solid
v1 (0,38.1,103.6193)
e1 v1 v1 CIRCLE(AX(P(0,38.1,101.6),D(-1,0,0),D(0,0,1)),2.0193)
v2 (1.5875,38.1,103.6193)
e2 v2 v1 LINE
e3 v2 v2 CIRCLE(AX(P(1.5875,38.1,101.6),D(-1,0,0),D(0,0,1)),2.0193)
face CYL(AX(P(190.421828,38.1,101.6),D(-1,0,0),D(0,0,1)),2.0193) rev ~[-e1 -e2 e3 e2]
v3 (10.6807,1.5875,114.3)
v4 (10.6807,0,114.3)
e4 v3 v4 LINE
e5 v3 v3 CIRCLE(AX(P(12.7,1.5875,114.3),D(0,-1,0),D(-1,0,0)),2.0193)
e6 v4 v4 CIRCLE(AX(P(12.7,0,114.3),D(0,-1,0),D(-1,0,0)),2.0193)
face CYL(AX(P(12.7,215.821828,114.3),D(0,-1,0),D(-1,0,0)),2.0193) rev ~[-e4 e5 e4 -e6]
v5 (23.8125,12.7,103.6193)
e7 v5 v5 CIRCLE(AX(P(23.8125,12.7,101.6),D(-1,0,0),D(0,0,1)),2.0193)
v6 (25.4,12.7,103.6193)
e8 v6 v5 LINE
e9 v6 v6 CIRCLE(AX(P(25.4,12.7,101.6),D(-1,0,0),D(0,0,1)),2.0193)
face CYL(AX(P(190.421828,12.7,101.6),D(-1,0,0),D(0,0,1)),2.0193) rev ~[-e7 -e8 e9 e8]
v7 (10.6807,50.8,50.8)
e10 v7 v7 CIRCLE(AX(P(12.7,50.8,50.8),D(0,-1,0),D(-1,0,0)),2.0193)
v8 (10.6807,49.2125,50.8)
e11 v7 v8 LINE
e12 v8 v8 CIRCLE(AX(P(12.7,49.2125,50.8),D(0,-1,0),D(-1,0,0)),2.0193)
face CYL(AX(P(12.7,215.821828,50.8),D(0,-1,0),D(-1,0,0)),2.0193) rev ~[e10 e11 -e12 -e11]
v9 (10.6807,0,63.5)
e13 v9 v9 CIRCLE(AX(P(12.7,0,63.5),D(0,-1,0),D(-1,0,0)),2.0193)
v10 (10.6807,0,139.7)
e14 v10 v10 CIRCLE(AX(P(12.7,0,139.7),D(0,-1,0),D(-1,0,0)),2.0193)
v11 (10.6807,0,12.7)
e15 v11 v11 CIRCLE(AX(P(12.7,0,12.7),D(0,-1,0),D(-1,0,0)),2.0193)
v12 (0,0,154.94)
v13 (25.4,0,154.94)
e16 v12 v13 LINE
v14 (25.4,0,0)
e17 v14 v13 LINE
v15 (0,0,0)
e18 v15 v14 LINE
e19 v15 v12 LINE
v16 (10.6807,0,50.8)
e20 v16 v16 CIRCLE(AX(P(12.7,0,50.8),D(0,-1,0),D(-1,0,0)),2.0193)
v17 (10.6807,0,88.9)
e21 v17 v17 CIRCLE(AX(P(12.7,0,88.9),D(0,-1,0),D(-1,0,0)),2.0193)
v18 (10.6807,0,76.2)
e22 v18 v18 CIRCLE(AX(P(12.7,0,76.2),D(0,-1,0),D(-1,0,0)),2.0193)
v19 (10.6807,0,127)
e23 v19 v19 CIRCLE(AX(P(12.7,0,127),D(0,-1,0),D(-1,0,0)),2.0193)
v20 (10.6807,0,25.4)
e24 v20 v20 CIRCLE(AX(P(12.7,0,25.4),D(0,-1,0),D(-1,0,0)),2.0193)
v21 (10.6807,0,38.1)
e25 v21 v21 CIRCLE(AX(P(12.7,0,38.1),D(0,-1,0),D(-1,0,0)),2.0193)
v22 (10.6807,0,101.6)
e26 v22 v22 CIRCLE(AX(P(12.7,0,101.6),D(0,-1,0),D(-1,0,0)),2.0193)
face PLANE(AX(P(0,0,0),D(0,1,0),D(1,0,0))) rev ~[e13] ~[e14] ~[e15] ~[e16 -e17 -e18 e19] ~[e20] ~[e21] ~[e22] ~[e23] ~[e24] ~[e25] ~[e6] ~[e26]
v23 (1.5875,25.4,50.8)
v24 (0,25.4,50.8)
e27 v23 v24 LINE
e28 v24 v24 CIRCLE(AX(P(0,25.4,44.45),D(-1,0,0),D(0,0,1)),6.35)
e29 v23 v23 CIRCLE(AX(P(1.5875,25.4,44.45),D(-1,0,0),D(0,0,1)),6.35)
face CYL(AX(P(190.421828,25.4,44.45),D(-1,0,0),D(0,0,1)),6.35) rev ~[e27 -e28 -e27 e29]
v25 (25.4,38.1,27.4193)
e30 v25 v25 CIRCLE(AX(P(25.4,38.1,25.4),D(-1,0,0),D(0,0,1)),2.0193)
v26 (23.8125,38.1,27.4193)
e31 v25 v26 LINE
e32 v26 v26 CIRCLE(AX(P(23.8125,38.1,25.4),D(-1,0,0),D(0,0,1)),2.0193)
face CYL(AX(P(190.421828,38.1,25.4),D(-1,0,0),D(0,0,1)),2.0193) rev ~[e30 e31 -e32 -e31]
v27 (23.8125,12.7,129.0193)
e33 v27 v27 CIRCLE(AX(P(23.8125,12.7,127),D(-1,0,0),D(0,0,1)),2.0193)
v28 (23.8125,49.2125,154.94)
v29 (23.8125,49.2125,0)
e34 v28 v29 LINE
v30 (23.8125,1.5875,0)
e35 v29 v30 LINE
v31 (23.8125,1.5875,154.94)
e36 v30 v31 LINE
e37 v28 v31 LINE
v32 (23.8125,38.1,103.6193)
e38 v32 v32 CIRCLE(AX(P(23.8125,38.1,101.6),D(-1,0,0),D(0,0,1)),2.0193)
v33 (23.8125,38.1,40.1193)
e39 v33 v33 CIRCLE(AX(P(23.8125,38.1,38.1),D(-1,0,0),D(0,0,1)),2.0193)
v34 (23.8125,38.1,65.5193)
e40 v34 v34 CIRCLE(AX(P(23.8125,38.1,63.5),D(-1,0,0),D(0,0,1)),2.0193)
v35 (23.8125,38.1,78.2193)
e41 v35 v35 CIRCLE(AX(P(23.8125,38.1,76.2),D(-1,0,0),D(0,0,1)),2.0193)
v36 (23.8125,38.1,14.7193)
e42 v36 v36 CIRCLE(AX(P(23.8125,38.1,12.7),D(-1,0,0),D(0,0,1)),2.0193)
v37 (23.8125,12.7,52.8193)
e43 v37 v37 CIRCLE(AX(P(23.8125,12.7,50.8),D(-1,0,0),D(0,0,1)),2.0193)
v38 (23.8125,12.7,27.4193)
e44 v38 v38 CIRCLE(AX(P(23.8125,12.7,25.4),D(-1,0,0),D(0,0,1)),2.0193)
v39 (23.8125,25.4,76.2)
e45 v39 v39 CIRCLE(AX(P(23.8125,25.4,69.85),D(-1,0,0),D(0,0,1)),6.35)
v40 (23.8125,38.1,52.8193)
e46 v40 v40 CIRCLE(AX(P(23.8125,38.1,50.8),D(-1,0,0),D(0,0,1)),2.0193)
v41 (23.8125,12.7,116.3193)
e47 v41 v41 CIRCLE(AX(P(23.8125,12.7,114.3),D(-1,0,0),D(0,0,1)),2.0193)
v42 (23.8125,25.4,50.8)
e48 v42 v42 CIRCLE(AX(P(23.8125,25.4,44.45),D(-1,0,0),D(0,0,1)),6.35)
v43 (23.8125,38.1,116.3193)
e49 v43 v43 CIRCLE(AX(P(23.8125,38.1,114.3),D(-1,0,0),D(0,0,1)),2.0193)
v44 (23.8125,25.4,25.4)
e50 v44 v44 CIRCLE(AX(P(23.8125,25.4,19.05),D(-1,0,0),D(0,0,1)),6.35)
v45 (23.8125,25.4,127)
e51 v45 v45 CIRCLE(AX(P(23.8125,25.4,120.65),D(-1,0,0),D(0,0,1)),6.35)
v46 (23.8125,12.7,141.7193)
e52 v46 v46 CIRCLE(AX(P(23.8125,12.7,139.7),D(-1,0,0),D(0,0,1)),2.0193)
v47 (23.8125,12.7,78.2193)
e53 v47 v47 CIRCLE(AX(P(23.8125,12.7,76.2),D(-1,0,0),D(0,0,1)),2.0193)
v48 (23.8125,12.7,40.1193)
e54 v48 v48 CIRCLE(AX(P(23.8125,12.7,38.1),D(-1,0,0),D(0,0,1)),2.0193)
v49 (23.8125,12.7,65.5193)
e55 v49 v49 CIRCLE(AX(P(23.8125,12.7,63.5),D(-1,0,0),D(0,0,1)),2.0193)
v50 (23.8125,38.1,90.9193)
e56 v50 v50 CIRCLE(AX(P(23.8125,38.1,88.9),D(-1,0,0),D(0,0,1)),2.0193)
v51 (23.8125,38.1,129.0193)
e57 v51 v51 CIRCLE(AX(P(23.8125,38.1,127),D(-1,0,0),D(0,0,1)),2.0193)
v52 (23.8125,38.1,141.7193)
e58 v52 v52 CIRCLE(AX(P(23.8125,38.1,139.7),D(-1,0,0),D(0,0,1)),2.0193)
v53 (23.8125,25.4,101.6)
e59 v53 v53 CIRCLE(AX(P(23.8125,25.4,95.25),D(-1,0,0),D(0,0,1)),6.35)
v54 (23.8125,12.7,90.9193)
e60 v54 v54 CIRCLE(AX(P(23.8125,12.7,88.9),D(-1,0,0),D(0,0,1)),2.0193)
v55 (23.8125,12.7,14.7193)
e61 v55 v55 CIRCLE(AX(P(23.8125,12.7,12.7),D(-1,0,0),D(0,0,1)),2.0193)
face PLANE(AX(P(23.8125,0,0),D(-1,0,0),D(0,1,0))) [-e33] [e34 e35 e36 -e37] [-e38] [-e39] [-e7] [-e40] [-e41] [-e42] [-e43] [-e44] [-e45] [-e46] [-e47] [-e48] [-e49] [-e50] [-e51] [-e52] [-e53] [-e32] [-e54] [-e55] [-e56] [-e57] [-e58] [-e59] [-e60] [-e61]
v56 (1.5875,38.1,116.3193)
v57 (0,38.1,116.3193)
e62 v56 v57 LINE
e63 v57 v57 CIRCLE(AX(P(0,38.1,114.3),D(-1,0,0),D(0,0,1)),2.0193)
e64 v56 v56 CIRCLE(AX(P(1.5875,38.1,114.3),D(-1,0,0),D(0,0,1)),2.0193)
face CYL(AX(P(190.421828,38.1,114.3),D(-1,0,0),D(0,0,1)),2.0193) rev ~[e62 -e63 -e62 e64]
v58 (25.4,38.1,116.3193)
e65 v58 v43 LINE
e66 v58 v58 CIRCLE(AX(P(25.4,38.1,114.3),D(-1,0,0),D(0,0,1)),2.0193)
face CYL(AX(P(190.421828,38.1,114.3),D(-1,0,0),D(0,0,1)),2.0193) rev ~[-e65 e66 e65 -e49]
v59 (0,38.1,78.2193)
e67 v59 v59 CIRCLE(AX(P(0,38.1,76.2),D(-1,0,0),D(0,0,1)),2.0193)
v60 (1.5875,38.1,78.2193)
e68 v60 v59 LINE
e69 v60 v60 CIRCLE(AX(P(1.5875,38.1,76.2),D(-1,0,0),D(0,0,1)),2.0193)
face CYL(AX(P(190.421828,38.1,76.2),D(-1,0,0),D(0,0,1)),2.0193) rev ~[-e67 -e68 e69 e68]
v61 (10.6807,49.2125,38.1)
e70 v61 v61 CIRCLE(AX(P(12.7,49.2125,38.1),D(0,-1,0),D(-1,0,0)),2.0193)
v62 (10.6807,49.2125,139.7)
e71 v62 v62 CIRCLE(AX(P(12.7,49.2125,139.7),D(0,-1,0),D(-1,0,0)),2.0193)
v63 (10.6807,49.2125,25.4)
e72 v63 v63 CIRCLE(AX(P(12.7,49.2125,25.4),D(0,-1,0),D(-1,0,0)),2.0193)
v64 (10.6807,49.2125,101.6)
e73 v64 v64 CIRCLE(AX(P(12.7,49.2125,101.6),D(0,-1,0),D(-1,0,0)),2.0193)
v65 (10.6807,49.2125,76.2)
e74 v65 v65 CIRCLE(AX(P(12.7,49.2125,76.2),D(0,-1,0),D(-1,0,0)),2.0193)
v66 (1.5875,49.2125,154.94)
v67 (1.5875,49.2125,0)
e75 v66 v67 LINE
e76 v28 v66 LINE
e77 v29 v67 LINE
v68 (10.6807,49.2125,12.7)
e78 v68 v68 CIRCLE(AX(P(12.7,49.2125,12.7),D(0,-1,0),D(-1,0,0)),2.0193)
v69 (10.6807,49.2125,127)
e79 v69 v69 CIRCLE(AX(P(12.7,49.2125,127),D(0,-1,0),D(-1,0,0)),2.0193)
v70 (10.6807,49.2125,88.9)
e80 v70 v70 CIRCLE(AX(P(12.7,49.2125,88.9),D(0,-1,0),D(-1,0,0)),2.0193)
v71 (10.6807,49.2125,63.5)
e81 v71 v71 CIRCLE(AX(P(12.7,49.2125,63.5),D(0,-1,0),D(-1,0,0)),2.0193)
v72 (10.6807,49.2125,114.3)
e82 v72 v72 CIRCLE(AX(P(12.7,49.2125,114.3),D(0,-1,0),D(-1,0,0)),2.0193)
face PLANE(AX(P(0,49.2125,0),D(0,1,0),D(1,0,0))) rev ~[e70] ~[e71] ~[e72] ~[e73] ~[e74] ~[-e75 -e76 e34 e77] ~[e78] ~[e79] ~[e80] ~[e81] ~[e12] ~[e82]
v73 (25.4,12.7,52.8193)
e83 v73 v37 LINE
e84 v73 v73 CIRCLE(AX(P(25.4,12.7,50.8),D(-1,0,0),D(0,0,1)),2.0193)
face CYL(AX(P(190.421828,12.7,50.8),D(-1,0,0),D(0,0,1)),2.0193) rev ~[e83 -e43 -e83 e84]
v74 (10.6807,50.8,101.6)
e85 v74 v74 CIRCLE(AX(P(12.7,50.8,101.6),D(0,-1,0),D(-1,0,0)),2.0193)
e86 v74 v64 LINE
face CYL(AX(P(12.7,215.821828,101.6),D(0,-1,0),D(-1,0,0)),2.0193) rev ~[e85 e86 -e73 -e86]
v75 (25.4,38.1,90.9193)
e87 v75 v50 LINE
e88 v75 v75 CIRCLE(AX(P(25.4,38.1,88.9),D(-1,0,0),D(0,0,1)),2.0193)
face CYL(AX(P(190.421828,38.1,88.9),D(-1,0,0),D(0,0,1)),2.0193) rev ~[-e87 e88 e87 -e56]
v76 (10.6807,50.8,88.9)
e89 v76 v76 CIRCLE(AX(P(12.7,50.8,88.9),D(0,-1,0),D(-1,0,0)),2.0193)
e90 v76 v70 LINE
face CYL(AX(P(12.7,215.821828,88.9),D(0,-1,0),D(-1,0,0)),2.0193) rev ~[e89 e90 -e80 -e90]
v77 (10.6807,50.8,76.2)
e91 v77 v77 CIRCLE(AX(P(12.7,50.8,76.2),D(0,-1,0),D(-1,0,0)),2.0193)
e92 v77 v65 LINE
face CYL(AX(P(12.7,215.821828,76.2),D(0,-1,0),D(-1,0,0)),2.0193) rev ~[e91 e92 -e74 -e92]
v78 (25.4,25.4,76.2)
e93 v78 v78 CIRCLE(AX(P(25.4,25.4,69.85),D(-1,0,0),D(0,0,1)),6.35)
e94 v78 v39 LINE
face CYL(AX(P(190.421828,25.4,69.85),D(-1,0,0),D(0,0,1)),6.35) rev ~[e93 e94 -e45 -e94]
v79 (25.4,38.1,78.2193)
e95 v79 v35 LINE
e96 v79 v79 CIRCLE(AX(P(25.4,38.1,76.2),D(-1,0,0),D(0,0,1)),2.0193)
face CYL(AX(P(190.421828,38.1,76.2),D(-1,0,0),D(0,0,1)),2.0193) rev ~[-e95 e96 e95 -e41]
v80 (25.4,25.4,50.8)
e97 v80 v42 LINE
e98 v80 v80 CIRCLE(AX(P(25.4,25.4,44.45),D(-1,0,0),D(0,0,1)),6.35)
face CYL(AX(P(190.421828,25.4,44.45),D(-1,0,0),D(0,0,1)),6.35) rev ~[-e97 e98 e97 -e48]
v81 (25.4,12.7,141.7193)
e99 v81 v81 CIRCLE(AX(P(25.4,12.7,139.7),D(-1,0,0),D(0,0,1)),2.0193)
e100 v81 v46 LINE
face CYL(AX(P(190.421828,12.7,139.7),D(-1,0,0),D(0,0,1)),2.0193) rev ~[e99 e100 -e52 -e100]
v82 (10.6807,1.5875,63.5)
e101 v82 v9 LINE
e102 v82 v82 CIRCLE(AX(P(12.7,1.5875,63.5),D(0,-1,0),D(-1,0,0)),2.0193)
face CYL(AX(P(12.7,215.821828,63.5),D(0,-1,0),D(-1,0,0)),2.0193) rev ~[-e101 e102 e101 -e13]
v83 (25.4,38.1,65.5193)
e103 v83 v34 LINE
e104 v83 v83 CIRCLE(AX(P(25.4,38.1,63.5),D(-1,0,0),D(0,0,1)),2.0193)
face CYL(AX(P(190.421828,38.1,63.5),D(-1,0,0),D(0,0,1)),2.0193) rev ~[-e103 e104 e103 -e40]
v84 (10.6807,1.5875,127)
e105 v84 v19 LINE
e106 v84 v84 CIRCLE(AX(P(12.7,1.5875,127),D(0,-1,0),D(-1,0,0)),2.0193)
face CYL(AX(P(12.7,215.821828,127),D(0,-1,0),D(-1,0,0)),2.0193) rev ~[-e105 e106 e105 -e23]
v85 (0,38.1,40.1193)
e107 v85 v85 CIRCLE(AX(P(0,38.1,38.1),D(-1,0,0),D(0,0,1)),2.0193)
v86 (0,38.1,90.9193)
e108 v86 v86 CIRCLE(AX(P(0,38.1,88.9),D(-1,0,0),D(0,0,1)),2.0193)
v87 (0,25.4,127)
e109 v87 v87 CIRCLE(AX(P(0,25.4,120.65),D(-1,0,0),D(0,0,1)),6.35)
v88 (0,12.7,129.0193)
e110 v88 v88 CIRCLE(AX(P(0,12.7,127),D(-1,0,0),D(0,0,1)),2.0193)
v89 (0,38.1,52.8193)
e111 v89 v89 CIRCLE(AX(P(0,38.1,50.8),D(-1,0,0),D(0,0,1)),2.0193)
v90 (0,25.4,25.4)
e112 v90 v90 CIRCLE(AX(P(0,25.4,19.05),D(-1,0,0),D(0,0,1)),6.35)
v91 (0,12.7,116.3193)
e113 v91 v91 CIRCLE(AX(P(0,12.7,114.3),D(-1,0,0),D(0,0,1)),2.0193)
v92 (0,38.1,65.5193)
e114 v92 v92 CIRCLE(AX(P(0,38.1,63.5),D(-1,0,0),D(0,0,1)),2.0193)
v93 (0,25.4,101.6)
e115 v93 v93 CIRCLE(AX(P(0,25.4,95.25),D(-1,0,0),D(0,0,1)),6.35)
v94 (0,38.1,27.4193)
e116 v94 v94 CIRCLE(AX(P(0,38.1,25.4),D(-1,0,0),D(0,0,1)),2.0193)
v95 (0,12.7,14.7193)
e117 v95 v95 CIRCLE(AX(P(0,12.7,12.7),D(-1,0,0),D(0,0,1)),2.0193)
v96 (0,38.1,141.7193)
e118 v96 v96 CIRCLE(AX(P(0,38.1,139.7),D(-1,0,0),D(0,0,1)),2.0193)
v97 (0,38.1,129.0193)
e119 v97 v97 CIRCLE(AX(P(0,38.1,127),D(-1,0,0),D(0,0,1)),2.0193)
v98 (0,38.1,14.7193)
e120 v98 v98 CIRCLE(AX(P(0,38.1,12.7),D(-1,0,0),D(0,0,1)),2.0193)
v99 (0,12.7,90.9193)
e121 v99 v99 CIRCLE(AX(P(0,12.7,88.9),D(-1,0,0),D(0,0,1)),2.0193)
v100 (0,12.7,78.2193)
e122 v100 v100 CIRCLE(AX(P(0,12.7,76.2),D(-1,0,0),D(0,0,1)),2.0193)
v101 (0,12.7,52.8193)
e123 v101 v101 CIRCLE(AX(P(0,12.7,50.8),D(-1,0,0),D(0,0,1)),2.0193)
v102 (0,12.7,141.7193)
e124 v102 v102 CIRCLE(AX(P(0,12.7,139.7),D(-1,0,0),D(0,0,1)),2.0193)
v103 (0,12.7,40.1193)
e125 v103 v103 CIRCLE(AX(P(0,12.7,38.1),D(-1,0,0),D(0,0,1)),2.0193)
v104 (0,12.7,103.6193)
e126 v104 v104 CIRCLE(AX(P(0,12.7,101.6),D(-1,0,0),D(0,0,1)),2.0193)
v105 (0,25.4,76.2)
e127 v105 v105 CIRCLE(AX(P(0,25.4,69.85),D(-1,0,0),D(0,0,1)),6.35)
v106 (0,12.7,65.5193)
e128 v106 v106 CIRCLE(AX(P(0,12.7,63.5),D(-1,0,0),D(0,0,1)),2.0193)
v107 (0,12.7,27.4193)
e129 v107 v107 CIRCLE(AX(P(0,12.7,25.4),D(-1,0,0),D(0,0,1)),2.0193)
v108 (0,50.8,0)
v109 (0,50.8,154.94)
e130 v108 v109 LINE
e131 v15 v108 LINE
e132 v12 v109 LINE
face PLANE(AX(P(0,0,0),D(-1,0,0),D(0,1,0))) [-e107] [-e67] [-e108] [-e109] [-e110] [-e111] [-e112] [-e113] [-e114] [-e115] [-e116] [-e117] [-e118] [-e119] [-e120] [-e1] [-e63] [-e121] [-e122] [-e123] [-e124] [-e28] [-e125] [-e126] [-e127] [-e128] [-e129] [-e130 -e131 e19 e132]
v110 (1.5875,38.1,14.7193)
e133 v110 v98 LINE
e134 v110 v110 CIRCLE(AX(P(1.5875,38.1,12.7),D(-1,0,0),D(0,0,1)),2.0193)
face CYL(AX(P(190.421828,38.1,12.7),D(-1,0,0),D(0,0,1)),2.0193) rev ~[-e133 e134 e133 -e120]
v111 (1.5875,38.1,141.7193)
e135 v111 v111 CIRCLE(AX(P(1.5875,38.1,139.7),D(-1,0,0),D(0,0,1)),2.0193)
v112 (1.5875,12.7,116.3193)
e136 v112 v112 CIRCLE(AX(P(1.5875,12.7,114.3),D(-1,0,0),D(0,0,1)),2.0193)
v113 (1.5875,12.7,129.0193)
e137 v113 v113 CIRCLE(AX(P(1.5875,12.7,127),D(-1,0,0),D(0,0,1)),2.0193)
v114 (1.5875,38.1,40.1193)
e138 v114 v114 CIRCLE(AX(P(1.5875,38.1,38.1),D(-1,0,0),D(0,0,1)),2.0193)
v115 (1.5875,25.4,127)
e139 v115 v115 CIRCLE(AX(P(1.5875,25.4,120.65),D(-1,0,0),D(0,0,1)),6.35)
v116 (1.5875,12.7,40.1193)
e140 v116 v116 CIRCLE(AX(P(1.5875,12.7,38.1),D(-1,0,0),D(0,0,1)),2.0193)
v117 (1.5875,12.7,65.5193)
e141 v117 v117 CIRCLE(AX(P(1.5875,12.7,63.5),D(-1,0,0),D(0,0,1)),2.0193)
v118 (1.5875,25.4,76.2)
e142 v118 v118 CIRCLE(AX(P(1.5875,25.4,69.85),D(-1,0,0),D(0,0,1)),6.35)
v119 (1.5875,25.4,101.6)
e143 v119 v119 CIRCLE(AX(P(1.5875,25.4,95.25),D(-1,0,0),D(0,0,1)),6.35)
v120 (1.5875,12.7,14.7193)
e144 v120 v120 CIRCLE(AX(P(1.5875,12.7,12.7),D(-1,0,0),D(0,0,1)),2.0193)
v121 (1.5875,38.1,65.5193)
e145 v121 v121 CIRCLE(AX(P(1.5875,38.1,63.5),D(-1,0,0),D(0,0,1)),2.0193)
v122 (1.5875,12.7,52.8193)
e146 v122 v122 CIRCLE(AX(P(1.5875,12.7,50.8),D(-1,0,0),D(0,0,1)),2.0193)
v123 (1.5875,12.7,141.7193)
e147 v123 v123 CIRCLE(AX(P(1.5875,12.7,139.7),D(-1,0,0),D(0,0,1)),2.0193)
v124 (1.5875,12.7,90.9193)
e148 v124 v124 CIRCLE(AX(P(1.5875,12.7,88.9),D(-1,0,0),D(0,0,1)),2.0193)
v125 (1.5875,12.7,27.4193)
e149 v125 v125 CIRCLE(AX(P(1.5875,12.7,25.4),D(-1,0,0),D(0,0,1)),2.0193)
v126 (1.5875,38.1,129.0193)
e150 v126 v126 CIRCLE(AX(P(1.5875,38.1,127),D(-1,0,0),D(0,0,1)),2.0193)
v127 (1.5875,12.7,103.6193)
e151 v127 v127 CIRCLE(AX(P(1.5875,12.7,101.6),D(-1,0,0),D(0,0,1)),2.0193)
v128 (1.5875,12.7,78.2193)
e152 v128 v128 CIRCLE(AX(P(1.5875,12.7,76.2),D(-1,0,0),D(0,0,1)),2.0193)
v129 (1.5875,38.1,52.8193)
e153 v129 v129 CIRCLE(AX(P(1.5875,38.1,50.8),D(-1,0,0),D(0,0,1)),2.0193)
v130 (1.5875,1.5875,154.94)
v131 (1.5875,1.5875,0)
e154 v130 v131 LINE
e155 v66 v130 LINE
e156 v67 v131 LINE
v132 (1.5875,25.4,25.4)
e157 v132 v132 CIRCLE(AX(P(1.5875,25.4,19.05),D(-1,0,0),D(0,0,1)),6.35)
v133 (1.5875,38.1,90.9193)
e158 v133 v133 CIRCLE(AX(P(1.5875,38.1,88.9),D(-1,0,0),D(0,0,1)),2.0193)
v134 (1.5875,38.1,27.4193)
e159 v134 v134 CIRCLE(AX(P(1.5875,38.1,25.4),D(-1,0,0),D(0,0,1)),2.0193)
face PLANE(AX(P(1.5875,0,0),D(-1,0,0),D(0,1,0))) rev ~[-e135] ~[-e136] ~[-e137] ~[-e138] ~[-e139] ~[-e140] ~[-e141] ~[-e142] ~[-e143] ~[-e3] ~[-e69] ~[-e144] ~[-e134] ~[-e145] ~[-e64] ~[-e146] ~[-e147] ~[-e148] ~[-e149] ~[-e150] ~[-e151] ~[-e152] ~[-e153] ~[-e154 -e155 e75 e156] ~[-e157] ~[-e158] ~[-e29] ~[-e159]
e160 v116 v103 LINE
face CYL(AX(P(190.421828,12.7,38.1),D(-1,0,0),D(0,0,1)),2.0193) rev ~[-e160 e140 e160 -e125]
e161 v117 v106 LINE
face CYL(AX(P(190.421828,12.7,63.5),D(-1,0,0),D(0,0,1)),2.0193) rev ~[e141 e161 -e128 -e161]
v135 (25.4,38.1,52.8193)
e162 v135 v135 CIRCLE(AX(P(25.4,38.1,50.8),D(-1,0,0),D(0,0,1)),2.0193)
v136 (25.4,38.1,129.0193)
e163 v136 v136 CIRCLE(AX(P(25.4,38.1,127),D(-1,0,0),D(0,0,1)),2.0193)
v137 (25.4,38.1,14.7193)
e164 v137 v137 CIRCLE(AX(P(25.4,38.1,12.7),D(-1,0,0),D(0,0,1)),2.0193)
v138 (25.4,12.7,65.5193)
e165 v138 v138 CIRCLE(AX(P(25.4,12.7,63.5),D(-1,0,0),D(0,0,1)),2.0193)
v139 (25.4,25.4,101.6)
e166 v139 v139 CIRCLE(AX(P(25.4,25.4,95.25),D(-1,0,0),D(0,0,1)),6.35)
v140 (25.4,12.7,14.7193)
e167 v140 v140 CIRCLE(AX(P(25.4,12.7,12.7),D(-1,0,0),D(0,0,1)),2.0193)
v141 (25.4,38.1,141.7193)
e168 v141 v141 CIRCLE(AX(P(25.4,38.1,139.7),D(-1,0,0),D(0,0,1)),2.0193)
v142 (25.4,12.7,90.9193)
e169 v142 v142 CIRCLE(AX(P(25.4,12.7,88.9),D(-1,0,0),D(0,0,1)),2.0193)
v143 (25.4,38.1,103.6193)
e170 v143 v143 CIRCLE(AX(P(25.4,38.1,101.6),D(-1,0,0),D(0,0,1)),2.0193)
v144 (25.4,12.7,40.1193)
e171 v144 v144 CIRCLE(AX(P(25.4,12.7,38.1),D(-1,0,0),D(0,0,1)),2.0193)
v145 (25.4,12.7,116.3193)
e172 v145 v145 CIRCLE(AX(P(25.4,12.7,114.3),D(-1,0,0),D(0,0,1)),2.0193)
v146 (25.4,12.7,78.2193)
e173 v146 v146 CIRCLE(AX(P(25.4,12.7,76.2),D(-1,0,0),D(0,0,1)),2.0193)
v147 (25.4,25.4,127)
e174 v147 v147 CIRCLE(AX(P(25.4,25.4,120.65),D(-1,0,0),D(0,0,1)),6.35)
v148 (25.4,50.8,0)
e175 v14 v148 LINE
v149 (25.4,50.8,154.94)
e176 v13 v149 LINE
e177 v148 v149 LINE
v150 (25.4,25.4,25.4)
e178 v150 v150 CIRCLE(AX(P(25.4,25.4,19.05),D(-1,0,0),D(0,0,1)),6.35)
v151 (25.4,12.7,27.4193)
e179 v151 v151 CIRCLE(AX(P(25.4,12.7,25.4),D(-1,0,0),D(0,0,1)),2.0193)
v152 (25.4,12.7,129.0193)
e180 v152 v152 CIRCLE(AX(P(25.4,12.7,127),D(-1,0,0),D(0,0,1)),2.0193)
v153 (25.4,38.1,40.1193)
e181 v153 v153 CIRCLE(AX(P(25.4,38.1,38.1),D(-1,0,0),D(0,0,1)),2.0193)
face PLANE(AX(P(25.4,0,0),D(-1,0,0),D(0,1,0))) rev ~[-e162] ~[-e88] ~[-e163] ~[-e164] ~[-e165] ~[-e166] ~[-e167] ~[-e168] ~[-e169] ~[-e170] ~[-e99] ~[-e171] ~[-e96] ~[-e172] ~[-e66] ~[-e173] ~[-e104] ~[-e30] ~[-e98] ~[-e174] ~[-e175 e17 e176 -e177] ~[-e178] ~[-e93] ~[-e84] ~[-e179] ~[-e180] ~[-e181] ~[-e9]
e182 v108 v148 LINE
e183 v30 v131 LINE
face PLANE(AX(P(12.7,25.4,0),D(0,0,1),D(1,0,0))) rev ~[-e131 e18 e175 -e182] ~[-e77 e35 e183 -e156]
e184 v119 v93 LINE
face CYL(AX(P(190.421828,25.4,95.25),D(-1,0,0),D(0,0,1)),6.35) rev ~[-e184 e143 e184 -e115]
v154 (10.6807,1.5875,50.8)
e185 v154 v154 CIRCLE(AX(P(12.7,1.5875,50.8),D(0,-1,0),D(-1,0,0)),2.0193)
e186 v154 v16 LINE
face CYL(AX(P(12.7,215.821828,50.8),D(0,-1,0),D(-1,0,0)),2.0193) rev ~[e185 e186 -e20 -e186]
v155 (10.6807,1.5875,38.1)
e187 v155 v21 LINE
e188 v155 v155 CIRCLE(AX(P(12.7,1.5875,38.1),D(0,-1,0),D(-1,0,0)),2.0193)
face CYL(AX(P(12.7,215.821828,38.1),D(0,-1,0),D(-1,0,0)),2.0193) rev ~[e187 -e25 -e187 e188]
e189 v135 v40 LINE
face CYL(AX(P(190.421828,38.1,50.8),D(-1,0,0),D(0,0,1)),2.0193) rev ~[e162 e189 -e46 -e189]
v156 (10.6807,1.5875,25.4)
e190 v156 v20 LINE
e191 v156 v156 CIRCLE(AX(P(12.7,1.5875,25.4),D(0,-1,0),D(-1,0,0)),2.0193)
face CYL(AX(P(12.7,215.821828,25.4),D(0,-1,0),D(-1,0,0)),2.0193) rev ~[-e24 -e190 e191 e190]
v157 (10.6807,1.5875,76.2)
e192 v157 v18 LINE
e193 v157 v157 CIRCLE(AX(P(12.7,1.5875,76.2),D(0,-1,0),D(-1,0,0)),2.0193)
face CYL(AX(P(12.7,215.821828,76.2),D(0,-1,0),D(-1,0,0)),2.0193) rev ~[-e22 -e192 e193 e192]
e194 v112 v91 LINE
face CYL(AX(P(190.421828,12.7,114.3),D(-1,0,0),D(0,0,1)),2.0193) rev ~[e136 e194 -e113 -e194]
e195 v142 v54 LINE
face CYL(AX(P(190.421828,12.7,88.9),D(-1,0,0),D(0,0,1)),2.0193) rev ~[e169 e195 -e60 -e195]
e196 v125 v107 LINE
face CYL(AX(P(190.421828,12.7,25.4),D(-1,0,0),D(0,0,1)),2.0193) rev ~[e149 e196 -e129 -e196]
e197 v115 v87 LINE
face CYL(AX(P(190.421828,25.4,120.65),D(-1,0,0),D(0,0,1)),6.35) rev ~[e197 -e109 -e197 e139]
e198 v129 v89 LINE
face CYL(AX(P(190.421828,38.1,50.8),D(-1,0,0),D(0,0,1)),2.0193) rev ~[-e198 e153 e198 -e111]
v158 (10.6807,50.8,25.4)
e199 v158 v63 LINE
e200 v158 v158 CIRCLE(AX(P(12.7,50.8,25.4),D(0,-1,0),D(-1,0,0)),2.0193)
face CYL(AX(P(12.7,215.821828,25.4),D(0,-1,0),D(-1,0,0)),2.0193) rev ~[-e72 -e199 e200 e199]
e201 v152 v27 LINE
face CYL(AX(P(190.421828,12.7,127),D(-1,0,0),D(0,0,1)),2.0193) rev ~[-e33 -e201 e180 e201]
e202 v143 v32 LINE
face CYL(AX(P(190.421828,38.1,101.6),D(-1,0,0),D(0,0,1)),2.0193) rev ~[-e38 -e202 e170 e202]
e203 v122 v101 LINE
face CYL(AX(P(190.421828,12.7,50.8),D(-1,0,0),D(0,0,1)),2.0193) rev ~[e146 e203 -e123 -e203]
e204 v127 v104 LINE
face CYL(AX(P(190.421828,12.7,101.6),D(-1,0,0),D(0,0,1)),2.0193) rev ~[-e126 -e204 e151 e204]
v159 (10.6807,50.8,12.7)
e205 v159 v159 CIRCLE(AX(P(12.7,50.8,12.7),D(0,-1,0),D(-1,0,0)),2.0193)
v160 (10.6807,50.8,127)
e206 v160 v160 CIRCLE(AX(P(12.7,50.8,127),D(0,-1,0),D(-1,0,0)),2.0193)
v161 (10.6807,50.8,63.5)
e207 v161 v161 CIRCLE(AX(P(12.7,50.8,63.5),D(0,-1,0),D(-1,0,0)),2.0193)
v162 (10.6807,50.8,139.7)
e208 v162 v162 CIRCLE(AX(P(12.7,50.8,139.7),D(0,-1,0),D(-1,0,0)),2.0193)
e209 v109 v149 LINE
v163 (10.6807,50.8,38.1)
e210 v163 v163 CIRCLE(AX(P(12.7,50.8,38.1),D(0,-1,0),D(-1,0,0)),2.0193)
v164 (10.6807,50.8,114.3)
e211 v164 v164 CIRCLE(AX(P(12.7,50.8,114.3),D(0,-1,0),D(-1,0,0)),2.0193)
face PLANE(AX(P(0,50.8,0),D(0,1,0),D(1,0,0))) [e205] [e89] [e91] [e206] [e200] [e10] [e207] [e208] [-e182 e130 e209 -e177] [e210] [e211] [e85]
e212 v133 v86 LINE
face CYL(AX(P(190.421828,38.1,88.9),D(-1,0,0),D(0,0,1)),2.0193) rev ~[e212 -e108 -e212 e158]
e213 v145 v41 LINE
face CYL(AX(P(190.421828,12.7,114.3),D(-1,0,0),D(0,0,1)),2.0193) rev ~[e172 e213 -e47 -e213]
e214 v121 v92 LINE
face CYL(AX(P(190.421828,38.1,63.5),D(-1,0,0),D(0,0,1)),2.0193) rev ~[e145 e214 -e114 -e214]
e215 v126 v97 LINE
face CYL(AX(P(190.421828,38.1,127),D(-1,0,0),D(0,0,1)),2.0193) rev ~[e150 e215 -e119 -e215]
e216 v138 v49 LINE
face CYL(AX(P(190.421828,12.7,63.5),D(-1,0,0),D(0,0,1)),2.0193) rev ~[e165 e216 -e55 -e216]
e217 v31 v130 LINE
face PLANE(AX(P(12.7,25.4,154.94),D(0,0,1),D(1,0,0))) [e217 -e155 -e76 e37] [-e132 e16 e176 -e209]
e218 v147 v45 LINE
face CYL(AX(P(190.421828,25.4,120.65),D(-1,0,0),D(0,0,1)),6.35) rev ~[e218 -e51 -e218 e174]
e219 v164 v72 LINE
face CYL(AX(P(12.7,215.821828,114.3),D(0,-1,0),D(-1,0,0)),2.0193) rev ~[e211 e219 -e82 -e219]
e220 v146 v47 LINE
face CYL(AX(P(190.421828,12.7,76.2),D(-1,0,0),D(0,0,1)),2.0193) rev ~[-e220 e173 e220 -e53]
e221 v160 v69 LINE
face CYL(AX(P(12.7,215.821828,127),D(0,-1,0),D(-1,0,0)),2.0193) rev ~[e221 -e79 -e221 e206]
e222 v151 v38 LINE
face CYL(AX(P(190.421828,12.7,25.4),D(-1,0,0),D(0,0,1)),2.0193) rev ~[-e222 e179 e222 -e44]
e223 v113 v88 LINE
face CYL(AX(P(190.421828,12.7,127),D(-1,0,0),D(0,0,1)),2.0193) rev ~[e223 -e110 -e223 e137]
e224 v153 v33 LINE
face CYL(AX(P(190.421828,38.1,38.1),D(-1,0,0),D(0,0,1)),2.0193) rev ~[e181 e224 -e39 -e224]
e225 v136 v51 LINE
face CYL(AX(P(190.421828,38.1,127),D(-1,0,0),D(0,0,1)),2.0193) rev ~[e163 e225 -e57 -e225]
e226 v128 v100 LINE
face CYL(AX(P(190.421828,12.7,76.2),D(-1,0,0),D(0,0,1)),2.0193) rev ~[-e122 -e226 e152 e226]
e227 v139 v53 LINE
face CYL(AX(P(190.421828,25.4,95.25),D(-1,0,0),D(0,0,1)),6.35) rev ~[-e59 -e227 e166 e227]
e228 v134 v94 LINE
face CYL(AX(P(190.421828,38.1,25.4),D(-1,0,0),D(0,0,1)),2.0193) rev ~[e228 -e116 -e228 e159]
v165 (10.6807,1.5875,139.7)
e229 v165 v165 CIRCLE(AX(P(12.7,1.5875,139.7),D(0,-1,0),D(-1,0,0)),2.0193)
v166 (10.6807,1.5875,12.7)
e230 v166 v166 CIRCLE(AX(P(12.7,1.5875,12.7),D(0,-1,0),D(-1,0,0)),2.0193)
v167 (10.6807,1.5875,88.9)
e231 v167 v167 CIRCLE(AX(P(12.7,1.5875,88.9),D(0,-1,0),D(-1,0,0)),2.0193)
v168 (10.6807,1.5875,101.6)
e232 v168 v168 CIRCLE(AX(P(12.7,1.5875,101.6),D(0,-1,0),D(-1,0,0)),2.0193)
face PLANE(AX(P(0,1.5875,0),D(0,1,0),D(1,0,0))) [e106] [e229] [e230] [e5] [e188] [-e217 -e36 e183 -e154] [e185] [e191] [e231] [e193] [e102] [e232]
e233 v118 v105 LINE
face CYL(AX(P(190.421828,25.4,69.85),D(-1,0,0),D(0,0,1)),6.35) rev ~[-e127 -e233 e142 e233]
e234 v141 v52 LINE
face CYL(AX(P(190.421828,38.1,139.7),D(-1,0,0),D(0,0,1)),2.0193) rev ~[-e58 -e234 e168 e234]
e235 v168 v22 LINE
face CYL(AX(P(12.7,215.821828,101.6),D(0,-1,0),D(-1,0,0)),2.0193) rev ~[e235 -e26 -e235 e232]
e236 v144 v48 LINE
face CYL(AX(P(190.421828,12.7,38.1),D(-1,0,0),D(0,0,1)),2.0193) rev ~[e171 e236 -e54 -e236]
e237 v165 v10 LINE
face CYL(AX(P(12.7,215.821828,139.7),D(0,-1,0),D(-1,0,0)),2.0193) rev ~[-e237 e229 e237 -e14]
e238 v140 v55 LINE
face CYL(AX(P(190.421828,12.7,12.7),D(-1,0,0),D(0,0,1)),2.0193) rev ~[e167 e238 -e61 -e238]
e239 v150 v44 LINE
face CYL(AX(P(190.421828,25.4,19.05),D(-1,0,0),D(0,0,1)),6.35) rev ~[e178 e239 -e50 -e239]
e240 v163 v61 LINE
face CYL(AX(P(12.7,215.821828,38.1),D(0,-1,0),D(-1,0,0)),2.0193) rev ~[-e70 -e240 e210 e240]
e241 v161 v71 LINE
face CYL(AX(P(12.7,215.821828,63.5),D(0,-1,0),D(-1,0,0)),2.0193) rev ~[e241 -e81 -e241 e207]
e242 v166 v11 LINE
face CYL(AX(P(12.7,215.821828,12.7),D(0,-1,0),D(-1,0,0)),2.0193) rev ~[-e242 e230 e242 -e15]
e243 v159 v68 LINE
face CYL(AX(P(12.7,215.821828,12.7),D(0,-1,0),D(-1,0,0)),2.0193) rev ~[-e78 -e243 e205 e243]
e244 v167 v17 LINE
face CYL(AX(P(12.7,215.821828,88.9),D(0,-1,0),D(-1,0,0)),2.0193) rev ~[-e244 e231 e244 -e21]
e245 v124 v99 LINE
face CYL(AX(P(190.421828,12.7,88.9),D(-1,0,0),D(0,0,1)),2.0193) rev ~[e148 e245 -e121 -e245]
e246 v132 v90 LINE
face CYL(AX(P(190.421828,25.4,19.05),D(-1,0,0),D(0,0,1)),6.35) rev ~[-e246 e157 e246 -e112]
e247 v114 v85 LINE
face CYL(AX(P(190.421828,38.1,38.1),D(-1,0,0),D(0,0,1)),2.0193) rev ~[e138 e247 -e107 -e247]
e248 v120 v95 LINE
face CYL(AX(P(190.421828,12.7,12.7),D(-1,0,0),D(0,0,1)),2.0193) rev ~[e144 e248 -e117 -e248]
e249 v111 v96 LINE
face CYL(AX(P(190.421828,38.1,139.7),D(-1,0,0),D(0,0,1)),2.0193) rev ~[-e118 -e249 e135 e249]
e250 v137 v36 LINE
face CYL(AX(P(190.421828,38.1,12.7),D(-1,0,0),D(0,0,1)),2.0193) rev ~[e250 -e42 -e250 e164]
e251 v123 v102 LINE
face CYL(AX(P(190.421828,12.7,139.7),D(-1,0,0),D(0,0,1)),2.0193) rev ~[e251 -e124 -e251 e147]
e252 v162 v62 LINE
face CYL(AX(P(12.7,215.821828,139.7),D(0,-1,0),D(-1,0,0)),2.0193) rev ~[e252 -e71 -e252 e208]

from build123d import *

# Parameters (mm, degrees)
SKETCH1_W                   = 25.4
SKETCH1_H                   = 50.8
BOSS_EXTRUDE1_DEPTH         = 154.94
SHELL1_T                    = -1.5875
F_21_0_159_DIAMETER_HOLE1_D = 4.0386
LPATTERN1_COUNT             = 11
LPATTERN1_PITCH             = 12.7
LPATTERN1_COUNT_DIR2        = 2
LPATTERN1_PITCH_DIR2        = 25.4
F_1_2_0_5_DIAMETER_HOLE1_D  = 12.7
LPATTERN2_COUNT             = 5
LPATTERN2_PITCH             = 25.4
F_21_0_159_DIAMETER_HOLE2_D = 4.0386
LPATTERN3_COUNT             = 11
LPATTERN3_PITCH             = 12.7


with BuildPart() as part:
    # Sketch1 → Boss-Extrude1 (new body)
    with BuildSketch(Plane.XY):
        with Locations((12.7, 25.4)):
            Rectangle(SKETCH1_W, SKETCH1_H)
    extrude(amount=BOSS_EXTRUDE1_DEPTH)

    # Shell1
    shell1_openings = [part.faces().sort_by_distance(p)[0] for p in [
        (12.7, 25.4, 154.94),
        (12.7, 25.4, 0),
    ]]
    offset(amount=SHELL1_T, openings=shell1_openings, kind=Kind.INTERSECTION)

    # #21 (0.159) Diameter Hole1 (through all)
    with Locations(Plane(origin=(25.4, 0, 0), x_dir=(0, 0, -1), z_dir=(1, 0, 0))):
        with Locations((-12.7, 38.1)):
            f_21_0_159_diameter_hole1 = Hole(F_21_0_159_DIAMETER_HOLE1_D / 2)

    # LPattern1: 21 _0.159_ Diameter Hole1 11 × 2
    with Locations(*[(0, -j * LPATTERN1_PITCH_DIR2, i * LPATTERN1_PITCH) for i in range(LPATTERN1_COUNT) for j in range(LPATTERN1_COUNT_DIR2) if (i, j) != (0, 0)]):
        add(f_21_0_159_diameter_hole1, mode=Mode.SUBTRACT)

    # 1/2 (0.5) Diameter Hole1 (through all)
    with Locations(Plane(origin=(25.4, 0, 0), x_dir=(0, 0, -1), z_dir=(1, 0, 0))):
        with Locations((-19.05, 25.4)):
            f_1_2_0_5_diameter_hole1 = Hole(F_1_2_0_5_DIAMETER_HOLE1_D / 2)

    # LPattern2: 1/2 (0.5) Diameter Hole1 ×5
    with Locations(*[(0, 0, i * LPATTERN2_PITCH) for i in range(1, LPATTERN2_COUNT)]):
        add(f_1_2_0_5_diameter_hole1, mode=Mode.SUBTRACT)

    # #21 (0.159) Diameter Hole2 (through all)
    with Locations(Plane(origin=(0, 50.8, 0), x_dir=(1, 0, 0), z_dir=(0, 1, 0))):
        with Locations((12.7, -12.7)):
            f_21_0_159_diameter_hole2 = Hole(F_21_0_159_DIAMETER_HOLE2_D / 2)

    # LPattern3: #21 (0.159) Diameter Hole2 ×11
    with Locations(*[(0, 0, i * LPATTERN3_PITCH) for i in range(1, LPATTERN3_COUNT)]):
        add(f_21_0_159_diameter_hole2, mode=Mode.SUBTRACT)


solid = part.part
